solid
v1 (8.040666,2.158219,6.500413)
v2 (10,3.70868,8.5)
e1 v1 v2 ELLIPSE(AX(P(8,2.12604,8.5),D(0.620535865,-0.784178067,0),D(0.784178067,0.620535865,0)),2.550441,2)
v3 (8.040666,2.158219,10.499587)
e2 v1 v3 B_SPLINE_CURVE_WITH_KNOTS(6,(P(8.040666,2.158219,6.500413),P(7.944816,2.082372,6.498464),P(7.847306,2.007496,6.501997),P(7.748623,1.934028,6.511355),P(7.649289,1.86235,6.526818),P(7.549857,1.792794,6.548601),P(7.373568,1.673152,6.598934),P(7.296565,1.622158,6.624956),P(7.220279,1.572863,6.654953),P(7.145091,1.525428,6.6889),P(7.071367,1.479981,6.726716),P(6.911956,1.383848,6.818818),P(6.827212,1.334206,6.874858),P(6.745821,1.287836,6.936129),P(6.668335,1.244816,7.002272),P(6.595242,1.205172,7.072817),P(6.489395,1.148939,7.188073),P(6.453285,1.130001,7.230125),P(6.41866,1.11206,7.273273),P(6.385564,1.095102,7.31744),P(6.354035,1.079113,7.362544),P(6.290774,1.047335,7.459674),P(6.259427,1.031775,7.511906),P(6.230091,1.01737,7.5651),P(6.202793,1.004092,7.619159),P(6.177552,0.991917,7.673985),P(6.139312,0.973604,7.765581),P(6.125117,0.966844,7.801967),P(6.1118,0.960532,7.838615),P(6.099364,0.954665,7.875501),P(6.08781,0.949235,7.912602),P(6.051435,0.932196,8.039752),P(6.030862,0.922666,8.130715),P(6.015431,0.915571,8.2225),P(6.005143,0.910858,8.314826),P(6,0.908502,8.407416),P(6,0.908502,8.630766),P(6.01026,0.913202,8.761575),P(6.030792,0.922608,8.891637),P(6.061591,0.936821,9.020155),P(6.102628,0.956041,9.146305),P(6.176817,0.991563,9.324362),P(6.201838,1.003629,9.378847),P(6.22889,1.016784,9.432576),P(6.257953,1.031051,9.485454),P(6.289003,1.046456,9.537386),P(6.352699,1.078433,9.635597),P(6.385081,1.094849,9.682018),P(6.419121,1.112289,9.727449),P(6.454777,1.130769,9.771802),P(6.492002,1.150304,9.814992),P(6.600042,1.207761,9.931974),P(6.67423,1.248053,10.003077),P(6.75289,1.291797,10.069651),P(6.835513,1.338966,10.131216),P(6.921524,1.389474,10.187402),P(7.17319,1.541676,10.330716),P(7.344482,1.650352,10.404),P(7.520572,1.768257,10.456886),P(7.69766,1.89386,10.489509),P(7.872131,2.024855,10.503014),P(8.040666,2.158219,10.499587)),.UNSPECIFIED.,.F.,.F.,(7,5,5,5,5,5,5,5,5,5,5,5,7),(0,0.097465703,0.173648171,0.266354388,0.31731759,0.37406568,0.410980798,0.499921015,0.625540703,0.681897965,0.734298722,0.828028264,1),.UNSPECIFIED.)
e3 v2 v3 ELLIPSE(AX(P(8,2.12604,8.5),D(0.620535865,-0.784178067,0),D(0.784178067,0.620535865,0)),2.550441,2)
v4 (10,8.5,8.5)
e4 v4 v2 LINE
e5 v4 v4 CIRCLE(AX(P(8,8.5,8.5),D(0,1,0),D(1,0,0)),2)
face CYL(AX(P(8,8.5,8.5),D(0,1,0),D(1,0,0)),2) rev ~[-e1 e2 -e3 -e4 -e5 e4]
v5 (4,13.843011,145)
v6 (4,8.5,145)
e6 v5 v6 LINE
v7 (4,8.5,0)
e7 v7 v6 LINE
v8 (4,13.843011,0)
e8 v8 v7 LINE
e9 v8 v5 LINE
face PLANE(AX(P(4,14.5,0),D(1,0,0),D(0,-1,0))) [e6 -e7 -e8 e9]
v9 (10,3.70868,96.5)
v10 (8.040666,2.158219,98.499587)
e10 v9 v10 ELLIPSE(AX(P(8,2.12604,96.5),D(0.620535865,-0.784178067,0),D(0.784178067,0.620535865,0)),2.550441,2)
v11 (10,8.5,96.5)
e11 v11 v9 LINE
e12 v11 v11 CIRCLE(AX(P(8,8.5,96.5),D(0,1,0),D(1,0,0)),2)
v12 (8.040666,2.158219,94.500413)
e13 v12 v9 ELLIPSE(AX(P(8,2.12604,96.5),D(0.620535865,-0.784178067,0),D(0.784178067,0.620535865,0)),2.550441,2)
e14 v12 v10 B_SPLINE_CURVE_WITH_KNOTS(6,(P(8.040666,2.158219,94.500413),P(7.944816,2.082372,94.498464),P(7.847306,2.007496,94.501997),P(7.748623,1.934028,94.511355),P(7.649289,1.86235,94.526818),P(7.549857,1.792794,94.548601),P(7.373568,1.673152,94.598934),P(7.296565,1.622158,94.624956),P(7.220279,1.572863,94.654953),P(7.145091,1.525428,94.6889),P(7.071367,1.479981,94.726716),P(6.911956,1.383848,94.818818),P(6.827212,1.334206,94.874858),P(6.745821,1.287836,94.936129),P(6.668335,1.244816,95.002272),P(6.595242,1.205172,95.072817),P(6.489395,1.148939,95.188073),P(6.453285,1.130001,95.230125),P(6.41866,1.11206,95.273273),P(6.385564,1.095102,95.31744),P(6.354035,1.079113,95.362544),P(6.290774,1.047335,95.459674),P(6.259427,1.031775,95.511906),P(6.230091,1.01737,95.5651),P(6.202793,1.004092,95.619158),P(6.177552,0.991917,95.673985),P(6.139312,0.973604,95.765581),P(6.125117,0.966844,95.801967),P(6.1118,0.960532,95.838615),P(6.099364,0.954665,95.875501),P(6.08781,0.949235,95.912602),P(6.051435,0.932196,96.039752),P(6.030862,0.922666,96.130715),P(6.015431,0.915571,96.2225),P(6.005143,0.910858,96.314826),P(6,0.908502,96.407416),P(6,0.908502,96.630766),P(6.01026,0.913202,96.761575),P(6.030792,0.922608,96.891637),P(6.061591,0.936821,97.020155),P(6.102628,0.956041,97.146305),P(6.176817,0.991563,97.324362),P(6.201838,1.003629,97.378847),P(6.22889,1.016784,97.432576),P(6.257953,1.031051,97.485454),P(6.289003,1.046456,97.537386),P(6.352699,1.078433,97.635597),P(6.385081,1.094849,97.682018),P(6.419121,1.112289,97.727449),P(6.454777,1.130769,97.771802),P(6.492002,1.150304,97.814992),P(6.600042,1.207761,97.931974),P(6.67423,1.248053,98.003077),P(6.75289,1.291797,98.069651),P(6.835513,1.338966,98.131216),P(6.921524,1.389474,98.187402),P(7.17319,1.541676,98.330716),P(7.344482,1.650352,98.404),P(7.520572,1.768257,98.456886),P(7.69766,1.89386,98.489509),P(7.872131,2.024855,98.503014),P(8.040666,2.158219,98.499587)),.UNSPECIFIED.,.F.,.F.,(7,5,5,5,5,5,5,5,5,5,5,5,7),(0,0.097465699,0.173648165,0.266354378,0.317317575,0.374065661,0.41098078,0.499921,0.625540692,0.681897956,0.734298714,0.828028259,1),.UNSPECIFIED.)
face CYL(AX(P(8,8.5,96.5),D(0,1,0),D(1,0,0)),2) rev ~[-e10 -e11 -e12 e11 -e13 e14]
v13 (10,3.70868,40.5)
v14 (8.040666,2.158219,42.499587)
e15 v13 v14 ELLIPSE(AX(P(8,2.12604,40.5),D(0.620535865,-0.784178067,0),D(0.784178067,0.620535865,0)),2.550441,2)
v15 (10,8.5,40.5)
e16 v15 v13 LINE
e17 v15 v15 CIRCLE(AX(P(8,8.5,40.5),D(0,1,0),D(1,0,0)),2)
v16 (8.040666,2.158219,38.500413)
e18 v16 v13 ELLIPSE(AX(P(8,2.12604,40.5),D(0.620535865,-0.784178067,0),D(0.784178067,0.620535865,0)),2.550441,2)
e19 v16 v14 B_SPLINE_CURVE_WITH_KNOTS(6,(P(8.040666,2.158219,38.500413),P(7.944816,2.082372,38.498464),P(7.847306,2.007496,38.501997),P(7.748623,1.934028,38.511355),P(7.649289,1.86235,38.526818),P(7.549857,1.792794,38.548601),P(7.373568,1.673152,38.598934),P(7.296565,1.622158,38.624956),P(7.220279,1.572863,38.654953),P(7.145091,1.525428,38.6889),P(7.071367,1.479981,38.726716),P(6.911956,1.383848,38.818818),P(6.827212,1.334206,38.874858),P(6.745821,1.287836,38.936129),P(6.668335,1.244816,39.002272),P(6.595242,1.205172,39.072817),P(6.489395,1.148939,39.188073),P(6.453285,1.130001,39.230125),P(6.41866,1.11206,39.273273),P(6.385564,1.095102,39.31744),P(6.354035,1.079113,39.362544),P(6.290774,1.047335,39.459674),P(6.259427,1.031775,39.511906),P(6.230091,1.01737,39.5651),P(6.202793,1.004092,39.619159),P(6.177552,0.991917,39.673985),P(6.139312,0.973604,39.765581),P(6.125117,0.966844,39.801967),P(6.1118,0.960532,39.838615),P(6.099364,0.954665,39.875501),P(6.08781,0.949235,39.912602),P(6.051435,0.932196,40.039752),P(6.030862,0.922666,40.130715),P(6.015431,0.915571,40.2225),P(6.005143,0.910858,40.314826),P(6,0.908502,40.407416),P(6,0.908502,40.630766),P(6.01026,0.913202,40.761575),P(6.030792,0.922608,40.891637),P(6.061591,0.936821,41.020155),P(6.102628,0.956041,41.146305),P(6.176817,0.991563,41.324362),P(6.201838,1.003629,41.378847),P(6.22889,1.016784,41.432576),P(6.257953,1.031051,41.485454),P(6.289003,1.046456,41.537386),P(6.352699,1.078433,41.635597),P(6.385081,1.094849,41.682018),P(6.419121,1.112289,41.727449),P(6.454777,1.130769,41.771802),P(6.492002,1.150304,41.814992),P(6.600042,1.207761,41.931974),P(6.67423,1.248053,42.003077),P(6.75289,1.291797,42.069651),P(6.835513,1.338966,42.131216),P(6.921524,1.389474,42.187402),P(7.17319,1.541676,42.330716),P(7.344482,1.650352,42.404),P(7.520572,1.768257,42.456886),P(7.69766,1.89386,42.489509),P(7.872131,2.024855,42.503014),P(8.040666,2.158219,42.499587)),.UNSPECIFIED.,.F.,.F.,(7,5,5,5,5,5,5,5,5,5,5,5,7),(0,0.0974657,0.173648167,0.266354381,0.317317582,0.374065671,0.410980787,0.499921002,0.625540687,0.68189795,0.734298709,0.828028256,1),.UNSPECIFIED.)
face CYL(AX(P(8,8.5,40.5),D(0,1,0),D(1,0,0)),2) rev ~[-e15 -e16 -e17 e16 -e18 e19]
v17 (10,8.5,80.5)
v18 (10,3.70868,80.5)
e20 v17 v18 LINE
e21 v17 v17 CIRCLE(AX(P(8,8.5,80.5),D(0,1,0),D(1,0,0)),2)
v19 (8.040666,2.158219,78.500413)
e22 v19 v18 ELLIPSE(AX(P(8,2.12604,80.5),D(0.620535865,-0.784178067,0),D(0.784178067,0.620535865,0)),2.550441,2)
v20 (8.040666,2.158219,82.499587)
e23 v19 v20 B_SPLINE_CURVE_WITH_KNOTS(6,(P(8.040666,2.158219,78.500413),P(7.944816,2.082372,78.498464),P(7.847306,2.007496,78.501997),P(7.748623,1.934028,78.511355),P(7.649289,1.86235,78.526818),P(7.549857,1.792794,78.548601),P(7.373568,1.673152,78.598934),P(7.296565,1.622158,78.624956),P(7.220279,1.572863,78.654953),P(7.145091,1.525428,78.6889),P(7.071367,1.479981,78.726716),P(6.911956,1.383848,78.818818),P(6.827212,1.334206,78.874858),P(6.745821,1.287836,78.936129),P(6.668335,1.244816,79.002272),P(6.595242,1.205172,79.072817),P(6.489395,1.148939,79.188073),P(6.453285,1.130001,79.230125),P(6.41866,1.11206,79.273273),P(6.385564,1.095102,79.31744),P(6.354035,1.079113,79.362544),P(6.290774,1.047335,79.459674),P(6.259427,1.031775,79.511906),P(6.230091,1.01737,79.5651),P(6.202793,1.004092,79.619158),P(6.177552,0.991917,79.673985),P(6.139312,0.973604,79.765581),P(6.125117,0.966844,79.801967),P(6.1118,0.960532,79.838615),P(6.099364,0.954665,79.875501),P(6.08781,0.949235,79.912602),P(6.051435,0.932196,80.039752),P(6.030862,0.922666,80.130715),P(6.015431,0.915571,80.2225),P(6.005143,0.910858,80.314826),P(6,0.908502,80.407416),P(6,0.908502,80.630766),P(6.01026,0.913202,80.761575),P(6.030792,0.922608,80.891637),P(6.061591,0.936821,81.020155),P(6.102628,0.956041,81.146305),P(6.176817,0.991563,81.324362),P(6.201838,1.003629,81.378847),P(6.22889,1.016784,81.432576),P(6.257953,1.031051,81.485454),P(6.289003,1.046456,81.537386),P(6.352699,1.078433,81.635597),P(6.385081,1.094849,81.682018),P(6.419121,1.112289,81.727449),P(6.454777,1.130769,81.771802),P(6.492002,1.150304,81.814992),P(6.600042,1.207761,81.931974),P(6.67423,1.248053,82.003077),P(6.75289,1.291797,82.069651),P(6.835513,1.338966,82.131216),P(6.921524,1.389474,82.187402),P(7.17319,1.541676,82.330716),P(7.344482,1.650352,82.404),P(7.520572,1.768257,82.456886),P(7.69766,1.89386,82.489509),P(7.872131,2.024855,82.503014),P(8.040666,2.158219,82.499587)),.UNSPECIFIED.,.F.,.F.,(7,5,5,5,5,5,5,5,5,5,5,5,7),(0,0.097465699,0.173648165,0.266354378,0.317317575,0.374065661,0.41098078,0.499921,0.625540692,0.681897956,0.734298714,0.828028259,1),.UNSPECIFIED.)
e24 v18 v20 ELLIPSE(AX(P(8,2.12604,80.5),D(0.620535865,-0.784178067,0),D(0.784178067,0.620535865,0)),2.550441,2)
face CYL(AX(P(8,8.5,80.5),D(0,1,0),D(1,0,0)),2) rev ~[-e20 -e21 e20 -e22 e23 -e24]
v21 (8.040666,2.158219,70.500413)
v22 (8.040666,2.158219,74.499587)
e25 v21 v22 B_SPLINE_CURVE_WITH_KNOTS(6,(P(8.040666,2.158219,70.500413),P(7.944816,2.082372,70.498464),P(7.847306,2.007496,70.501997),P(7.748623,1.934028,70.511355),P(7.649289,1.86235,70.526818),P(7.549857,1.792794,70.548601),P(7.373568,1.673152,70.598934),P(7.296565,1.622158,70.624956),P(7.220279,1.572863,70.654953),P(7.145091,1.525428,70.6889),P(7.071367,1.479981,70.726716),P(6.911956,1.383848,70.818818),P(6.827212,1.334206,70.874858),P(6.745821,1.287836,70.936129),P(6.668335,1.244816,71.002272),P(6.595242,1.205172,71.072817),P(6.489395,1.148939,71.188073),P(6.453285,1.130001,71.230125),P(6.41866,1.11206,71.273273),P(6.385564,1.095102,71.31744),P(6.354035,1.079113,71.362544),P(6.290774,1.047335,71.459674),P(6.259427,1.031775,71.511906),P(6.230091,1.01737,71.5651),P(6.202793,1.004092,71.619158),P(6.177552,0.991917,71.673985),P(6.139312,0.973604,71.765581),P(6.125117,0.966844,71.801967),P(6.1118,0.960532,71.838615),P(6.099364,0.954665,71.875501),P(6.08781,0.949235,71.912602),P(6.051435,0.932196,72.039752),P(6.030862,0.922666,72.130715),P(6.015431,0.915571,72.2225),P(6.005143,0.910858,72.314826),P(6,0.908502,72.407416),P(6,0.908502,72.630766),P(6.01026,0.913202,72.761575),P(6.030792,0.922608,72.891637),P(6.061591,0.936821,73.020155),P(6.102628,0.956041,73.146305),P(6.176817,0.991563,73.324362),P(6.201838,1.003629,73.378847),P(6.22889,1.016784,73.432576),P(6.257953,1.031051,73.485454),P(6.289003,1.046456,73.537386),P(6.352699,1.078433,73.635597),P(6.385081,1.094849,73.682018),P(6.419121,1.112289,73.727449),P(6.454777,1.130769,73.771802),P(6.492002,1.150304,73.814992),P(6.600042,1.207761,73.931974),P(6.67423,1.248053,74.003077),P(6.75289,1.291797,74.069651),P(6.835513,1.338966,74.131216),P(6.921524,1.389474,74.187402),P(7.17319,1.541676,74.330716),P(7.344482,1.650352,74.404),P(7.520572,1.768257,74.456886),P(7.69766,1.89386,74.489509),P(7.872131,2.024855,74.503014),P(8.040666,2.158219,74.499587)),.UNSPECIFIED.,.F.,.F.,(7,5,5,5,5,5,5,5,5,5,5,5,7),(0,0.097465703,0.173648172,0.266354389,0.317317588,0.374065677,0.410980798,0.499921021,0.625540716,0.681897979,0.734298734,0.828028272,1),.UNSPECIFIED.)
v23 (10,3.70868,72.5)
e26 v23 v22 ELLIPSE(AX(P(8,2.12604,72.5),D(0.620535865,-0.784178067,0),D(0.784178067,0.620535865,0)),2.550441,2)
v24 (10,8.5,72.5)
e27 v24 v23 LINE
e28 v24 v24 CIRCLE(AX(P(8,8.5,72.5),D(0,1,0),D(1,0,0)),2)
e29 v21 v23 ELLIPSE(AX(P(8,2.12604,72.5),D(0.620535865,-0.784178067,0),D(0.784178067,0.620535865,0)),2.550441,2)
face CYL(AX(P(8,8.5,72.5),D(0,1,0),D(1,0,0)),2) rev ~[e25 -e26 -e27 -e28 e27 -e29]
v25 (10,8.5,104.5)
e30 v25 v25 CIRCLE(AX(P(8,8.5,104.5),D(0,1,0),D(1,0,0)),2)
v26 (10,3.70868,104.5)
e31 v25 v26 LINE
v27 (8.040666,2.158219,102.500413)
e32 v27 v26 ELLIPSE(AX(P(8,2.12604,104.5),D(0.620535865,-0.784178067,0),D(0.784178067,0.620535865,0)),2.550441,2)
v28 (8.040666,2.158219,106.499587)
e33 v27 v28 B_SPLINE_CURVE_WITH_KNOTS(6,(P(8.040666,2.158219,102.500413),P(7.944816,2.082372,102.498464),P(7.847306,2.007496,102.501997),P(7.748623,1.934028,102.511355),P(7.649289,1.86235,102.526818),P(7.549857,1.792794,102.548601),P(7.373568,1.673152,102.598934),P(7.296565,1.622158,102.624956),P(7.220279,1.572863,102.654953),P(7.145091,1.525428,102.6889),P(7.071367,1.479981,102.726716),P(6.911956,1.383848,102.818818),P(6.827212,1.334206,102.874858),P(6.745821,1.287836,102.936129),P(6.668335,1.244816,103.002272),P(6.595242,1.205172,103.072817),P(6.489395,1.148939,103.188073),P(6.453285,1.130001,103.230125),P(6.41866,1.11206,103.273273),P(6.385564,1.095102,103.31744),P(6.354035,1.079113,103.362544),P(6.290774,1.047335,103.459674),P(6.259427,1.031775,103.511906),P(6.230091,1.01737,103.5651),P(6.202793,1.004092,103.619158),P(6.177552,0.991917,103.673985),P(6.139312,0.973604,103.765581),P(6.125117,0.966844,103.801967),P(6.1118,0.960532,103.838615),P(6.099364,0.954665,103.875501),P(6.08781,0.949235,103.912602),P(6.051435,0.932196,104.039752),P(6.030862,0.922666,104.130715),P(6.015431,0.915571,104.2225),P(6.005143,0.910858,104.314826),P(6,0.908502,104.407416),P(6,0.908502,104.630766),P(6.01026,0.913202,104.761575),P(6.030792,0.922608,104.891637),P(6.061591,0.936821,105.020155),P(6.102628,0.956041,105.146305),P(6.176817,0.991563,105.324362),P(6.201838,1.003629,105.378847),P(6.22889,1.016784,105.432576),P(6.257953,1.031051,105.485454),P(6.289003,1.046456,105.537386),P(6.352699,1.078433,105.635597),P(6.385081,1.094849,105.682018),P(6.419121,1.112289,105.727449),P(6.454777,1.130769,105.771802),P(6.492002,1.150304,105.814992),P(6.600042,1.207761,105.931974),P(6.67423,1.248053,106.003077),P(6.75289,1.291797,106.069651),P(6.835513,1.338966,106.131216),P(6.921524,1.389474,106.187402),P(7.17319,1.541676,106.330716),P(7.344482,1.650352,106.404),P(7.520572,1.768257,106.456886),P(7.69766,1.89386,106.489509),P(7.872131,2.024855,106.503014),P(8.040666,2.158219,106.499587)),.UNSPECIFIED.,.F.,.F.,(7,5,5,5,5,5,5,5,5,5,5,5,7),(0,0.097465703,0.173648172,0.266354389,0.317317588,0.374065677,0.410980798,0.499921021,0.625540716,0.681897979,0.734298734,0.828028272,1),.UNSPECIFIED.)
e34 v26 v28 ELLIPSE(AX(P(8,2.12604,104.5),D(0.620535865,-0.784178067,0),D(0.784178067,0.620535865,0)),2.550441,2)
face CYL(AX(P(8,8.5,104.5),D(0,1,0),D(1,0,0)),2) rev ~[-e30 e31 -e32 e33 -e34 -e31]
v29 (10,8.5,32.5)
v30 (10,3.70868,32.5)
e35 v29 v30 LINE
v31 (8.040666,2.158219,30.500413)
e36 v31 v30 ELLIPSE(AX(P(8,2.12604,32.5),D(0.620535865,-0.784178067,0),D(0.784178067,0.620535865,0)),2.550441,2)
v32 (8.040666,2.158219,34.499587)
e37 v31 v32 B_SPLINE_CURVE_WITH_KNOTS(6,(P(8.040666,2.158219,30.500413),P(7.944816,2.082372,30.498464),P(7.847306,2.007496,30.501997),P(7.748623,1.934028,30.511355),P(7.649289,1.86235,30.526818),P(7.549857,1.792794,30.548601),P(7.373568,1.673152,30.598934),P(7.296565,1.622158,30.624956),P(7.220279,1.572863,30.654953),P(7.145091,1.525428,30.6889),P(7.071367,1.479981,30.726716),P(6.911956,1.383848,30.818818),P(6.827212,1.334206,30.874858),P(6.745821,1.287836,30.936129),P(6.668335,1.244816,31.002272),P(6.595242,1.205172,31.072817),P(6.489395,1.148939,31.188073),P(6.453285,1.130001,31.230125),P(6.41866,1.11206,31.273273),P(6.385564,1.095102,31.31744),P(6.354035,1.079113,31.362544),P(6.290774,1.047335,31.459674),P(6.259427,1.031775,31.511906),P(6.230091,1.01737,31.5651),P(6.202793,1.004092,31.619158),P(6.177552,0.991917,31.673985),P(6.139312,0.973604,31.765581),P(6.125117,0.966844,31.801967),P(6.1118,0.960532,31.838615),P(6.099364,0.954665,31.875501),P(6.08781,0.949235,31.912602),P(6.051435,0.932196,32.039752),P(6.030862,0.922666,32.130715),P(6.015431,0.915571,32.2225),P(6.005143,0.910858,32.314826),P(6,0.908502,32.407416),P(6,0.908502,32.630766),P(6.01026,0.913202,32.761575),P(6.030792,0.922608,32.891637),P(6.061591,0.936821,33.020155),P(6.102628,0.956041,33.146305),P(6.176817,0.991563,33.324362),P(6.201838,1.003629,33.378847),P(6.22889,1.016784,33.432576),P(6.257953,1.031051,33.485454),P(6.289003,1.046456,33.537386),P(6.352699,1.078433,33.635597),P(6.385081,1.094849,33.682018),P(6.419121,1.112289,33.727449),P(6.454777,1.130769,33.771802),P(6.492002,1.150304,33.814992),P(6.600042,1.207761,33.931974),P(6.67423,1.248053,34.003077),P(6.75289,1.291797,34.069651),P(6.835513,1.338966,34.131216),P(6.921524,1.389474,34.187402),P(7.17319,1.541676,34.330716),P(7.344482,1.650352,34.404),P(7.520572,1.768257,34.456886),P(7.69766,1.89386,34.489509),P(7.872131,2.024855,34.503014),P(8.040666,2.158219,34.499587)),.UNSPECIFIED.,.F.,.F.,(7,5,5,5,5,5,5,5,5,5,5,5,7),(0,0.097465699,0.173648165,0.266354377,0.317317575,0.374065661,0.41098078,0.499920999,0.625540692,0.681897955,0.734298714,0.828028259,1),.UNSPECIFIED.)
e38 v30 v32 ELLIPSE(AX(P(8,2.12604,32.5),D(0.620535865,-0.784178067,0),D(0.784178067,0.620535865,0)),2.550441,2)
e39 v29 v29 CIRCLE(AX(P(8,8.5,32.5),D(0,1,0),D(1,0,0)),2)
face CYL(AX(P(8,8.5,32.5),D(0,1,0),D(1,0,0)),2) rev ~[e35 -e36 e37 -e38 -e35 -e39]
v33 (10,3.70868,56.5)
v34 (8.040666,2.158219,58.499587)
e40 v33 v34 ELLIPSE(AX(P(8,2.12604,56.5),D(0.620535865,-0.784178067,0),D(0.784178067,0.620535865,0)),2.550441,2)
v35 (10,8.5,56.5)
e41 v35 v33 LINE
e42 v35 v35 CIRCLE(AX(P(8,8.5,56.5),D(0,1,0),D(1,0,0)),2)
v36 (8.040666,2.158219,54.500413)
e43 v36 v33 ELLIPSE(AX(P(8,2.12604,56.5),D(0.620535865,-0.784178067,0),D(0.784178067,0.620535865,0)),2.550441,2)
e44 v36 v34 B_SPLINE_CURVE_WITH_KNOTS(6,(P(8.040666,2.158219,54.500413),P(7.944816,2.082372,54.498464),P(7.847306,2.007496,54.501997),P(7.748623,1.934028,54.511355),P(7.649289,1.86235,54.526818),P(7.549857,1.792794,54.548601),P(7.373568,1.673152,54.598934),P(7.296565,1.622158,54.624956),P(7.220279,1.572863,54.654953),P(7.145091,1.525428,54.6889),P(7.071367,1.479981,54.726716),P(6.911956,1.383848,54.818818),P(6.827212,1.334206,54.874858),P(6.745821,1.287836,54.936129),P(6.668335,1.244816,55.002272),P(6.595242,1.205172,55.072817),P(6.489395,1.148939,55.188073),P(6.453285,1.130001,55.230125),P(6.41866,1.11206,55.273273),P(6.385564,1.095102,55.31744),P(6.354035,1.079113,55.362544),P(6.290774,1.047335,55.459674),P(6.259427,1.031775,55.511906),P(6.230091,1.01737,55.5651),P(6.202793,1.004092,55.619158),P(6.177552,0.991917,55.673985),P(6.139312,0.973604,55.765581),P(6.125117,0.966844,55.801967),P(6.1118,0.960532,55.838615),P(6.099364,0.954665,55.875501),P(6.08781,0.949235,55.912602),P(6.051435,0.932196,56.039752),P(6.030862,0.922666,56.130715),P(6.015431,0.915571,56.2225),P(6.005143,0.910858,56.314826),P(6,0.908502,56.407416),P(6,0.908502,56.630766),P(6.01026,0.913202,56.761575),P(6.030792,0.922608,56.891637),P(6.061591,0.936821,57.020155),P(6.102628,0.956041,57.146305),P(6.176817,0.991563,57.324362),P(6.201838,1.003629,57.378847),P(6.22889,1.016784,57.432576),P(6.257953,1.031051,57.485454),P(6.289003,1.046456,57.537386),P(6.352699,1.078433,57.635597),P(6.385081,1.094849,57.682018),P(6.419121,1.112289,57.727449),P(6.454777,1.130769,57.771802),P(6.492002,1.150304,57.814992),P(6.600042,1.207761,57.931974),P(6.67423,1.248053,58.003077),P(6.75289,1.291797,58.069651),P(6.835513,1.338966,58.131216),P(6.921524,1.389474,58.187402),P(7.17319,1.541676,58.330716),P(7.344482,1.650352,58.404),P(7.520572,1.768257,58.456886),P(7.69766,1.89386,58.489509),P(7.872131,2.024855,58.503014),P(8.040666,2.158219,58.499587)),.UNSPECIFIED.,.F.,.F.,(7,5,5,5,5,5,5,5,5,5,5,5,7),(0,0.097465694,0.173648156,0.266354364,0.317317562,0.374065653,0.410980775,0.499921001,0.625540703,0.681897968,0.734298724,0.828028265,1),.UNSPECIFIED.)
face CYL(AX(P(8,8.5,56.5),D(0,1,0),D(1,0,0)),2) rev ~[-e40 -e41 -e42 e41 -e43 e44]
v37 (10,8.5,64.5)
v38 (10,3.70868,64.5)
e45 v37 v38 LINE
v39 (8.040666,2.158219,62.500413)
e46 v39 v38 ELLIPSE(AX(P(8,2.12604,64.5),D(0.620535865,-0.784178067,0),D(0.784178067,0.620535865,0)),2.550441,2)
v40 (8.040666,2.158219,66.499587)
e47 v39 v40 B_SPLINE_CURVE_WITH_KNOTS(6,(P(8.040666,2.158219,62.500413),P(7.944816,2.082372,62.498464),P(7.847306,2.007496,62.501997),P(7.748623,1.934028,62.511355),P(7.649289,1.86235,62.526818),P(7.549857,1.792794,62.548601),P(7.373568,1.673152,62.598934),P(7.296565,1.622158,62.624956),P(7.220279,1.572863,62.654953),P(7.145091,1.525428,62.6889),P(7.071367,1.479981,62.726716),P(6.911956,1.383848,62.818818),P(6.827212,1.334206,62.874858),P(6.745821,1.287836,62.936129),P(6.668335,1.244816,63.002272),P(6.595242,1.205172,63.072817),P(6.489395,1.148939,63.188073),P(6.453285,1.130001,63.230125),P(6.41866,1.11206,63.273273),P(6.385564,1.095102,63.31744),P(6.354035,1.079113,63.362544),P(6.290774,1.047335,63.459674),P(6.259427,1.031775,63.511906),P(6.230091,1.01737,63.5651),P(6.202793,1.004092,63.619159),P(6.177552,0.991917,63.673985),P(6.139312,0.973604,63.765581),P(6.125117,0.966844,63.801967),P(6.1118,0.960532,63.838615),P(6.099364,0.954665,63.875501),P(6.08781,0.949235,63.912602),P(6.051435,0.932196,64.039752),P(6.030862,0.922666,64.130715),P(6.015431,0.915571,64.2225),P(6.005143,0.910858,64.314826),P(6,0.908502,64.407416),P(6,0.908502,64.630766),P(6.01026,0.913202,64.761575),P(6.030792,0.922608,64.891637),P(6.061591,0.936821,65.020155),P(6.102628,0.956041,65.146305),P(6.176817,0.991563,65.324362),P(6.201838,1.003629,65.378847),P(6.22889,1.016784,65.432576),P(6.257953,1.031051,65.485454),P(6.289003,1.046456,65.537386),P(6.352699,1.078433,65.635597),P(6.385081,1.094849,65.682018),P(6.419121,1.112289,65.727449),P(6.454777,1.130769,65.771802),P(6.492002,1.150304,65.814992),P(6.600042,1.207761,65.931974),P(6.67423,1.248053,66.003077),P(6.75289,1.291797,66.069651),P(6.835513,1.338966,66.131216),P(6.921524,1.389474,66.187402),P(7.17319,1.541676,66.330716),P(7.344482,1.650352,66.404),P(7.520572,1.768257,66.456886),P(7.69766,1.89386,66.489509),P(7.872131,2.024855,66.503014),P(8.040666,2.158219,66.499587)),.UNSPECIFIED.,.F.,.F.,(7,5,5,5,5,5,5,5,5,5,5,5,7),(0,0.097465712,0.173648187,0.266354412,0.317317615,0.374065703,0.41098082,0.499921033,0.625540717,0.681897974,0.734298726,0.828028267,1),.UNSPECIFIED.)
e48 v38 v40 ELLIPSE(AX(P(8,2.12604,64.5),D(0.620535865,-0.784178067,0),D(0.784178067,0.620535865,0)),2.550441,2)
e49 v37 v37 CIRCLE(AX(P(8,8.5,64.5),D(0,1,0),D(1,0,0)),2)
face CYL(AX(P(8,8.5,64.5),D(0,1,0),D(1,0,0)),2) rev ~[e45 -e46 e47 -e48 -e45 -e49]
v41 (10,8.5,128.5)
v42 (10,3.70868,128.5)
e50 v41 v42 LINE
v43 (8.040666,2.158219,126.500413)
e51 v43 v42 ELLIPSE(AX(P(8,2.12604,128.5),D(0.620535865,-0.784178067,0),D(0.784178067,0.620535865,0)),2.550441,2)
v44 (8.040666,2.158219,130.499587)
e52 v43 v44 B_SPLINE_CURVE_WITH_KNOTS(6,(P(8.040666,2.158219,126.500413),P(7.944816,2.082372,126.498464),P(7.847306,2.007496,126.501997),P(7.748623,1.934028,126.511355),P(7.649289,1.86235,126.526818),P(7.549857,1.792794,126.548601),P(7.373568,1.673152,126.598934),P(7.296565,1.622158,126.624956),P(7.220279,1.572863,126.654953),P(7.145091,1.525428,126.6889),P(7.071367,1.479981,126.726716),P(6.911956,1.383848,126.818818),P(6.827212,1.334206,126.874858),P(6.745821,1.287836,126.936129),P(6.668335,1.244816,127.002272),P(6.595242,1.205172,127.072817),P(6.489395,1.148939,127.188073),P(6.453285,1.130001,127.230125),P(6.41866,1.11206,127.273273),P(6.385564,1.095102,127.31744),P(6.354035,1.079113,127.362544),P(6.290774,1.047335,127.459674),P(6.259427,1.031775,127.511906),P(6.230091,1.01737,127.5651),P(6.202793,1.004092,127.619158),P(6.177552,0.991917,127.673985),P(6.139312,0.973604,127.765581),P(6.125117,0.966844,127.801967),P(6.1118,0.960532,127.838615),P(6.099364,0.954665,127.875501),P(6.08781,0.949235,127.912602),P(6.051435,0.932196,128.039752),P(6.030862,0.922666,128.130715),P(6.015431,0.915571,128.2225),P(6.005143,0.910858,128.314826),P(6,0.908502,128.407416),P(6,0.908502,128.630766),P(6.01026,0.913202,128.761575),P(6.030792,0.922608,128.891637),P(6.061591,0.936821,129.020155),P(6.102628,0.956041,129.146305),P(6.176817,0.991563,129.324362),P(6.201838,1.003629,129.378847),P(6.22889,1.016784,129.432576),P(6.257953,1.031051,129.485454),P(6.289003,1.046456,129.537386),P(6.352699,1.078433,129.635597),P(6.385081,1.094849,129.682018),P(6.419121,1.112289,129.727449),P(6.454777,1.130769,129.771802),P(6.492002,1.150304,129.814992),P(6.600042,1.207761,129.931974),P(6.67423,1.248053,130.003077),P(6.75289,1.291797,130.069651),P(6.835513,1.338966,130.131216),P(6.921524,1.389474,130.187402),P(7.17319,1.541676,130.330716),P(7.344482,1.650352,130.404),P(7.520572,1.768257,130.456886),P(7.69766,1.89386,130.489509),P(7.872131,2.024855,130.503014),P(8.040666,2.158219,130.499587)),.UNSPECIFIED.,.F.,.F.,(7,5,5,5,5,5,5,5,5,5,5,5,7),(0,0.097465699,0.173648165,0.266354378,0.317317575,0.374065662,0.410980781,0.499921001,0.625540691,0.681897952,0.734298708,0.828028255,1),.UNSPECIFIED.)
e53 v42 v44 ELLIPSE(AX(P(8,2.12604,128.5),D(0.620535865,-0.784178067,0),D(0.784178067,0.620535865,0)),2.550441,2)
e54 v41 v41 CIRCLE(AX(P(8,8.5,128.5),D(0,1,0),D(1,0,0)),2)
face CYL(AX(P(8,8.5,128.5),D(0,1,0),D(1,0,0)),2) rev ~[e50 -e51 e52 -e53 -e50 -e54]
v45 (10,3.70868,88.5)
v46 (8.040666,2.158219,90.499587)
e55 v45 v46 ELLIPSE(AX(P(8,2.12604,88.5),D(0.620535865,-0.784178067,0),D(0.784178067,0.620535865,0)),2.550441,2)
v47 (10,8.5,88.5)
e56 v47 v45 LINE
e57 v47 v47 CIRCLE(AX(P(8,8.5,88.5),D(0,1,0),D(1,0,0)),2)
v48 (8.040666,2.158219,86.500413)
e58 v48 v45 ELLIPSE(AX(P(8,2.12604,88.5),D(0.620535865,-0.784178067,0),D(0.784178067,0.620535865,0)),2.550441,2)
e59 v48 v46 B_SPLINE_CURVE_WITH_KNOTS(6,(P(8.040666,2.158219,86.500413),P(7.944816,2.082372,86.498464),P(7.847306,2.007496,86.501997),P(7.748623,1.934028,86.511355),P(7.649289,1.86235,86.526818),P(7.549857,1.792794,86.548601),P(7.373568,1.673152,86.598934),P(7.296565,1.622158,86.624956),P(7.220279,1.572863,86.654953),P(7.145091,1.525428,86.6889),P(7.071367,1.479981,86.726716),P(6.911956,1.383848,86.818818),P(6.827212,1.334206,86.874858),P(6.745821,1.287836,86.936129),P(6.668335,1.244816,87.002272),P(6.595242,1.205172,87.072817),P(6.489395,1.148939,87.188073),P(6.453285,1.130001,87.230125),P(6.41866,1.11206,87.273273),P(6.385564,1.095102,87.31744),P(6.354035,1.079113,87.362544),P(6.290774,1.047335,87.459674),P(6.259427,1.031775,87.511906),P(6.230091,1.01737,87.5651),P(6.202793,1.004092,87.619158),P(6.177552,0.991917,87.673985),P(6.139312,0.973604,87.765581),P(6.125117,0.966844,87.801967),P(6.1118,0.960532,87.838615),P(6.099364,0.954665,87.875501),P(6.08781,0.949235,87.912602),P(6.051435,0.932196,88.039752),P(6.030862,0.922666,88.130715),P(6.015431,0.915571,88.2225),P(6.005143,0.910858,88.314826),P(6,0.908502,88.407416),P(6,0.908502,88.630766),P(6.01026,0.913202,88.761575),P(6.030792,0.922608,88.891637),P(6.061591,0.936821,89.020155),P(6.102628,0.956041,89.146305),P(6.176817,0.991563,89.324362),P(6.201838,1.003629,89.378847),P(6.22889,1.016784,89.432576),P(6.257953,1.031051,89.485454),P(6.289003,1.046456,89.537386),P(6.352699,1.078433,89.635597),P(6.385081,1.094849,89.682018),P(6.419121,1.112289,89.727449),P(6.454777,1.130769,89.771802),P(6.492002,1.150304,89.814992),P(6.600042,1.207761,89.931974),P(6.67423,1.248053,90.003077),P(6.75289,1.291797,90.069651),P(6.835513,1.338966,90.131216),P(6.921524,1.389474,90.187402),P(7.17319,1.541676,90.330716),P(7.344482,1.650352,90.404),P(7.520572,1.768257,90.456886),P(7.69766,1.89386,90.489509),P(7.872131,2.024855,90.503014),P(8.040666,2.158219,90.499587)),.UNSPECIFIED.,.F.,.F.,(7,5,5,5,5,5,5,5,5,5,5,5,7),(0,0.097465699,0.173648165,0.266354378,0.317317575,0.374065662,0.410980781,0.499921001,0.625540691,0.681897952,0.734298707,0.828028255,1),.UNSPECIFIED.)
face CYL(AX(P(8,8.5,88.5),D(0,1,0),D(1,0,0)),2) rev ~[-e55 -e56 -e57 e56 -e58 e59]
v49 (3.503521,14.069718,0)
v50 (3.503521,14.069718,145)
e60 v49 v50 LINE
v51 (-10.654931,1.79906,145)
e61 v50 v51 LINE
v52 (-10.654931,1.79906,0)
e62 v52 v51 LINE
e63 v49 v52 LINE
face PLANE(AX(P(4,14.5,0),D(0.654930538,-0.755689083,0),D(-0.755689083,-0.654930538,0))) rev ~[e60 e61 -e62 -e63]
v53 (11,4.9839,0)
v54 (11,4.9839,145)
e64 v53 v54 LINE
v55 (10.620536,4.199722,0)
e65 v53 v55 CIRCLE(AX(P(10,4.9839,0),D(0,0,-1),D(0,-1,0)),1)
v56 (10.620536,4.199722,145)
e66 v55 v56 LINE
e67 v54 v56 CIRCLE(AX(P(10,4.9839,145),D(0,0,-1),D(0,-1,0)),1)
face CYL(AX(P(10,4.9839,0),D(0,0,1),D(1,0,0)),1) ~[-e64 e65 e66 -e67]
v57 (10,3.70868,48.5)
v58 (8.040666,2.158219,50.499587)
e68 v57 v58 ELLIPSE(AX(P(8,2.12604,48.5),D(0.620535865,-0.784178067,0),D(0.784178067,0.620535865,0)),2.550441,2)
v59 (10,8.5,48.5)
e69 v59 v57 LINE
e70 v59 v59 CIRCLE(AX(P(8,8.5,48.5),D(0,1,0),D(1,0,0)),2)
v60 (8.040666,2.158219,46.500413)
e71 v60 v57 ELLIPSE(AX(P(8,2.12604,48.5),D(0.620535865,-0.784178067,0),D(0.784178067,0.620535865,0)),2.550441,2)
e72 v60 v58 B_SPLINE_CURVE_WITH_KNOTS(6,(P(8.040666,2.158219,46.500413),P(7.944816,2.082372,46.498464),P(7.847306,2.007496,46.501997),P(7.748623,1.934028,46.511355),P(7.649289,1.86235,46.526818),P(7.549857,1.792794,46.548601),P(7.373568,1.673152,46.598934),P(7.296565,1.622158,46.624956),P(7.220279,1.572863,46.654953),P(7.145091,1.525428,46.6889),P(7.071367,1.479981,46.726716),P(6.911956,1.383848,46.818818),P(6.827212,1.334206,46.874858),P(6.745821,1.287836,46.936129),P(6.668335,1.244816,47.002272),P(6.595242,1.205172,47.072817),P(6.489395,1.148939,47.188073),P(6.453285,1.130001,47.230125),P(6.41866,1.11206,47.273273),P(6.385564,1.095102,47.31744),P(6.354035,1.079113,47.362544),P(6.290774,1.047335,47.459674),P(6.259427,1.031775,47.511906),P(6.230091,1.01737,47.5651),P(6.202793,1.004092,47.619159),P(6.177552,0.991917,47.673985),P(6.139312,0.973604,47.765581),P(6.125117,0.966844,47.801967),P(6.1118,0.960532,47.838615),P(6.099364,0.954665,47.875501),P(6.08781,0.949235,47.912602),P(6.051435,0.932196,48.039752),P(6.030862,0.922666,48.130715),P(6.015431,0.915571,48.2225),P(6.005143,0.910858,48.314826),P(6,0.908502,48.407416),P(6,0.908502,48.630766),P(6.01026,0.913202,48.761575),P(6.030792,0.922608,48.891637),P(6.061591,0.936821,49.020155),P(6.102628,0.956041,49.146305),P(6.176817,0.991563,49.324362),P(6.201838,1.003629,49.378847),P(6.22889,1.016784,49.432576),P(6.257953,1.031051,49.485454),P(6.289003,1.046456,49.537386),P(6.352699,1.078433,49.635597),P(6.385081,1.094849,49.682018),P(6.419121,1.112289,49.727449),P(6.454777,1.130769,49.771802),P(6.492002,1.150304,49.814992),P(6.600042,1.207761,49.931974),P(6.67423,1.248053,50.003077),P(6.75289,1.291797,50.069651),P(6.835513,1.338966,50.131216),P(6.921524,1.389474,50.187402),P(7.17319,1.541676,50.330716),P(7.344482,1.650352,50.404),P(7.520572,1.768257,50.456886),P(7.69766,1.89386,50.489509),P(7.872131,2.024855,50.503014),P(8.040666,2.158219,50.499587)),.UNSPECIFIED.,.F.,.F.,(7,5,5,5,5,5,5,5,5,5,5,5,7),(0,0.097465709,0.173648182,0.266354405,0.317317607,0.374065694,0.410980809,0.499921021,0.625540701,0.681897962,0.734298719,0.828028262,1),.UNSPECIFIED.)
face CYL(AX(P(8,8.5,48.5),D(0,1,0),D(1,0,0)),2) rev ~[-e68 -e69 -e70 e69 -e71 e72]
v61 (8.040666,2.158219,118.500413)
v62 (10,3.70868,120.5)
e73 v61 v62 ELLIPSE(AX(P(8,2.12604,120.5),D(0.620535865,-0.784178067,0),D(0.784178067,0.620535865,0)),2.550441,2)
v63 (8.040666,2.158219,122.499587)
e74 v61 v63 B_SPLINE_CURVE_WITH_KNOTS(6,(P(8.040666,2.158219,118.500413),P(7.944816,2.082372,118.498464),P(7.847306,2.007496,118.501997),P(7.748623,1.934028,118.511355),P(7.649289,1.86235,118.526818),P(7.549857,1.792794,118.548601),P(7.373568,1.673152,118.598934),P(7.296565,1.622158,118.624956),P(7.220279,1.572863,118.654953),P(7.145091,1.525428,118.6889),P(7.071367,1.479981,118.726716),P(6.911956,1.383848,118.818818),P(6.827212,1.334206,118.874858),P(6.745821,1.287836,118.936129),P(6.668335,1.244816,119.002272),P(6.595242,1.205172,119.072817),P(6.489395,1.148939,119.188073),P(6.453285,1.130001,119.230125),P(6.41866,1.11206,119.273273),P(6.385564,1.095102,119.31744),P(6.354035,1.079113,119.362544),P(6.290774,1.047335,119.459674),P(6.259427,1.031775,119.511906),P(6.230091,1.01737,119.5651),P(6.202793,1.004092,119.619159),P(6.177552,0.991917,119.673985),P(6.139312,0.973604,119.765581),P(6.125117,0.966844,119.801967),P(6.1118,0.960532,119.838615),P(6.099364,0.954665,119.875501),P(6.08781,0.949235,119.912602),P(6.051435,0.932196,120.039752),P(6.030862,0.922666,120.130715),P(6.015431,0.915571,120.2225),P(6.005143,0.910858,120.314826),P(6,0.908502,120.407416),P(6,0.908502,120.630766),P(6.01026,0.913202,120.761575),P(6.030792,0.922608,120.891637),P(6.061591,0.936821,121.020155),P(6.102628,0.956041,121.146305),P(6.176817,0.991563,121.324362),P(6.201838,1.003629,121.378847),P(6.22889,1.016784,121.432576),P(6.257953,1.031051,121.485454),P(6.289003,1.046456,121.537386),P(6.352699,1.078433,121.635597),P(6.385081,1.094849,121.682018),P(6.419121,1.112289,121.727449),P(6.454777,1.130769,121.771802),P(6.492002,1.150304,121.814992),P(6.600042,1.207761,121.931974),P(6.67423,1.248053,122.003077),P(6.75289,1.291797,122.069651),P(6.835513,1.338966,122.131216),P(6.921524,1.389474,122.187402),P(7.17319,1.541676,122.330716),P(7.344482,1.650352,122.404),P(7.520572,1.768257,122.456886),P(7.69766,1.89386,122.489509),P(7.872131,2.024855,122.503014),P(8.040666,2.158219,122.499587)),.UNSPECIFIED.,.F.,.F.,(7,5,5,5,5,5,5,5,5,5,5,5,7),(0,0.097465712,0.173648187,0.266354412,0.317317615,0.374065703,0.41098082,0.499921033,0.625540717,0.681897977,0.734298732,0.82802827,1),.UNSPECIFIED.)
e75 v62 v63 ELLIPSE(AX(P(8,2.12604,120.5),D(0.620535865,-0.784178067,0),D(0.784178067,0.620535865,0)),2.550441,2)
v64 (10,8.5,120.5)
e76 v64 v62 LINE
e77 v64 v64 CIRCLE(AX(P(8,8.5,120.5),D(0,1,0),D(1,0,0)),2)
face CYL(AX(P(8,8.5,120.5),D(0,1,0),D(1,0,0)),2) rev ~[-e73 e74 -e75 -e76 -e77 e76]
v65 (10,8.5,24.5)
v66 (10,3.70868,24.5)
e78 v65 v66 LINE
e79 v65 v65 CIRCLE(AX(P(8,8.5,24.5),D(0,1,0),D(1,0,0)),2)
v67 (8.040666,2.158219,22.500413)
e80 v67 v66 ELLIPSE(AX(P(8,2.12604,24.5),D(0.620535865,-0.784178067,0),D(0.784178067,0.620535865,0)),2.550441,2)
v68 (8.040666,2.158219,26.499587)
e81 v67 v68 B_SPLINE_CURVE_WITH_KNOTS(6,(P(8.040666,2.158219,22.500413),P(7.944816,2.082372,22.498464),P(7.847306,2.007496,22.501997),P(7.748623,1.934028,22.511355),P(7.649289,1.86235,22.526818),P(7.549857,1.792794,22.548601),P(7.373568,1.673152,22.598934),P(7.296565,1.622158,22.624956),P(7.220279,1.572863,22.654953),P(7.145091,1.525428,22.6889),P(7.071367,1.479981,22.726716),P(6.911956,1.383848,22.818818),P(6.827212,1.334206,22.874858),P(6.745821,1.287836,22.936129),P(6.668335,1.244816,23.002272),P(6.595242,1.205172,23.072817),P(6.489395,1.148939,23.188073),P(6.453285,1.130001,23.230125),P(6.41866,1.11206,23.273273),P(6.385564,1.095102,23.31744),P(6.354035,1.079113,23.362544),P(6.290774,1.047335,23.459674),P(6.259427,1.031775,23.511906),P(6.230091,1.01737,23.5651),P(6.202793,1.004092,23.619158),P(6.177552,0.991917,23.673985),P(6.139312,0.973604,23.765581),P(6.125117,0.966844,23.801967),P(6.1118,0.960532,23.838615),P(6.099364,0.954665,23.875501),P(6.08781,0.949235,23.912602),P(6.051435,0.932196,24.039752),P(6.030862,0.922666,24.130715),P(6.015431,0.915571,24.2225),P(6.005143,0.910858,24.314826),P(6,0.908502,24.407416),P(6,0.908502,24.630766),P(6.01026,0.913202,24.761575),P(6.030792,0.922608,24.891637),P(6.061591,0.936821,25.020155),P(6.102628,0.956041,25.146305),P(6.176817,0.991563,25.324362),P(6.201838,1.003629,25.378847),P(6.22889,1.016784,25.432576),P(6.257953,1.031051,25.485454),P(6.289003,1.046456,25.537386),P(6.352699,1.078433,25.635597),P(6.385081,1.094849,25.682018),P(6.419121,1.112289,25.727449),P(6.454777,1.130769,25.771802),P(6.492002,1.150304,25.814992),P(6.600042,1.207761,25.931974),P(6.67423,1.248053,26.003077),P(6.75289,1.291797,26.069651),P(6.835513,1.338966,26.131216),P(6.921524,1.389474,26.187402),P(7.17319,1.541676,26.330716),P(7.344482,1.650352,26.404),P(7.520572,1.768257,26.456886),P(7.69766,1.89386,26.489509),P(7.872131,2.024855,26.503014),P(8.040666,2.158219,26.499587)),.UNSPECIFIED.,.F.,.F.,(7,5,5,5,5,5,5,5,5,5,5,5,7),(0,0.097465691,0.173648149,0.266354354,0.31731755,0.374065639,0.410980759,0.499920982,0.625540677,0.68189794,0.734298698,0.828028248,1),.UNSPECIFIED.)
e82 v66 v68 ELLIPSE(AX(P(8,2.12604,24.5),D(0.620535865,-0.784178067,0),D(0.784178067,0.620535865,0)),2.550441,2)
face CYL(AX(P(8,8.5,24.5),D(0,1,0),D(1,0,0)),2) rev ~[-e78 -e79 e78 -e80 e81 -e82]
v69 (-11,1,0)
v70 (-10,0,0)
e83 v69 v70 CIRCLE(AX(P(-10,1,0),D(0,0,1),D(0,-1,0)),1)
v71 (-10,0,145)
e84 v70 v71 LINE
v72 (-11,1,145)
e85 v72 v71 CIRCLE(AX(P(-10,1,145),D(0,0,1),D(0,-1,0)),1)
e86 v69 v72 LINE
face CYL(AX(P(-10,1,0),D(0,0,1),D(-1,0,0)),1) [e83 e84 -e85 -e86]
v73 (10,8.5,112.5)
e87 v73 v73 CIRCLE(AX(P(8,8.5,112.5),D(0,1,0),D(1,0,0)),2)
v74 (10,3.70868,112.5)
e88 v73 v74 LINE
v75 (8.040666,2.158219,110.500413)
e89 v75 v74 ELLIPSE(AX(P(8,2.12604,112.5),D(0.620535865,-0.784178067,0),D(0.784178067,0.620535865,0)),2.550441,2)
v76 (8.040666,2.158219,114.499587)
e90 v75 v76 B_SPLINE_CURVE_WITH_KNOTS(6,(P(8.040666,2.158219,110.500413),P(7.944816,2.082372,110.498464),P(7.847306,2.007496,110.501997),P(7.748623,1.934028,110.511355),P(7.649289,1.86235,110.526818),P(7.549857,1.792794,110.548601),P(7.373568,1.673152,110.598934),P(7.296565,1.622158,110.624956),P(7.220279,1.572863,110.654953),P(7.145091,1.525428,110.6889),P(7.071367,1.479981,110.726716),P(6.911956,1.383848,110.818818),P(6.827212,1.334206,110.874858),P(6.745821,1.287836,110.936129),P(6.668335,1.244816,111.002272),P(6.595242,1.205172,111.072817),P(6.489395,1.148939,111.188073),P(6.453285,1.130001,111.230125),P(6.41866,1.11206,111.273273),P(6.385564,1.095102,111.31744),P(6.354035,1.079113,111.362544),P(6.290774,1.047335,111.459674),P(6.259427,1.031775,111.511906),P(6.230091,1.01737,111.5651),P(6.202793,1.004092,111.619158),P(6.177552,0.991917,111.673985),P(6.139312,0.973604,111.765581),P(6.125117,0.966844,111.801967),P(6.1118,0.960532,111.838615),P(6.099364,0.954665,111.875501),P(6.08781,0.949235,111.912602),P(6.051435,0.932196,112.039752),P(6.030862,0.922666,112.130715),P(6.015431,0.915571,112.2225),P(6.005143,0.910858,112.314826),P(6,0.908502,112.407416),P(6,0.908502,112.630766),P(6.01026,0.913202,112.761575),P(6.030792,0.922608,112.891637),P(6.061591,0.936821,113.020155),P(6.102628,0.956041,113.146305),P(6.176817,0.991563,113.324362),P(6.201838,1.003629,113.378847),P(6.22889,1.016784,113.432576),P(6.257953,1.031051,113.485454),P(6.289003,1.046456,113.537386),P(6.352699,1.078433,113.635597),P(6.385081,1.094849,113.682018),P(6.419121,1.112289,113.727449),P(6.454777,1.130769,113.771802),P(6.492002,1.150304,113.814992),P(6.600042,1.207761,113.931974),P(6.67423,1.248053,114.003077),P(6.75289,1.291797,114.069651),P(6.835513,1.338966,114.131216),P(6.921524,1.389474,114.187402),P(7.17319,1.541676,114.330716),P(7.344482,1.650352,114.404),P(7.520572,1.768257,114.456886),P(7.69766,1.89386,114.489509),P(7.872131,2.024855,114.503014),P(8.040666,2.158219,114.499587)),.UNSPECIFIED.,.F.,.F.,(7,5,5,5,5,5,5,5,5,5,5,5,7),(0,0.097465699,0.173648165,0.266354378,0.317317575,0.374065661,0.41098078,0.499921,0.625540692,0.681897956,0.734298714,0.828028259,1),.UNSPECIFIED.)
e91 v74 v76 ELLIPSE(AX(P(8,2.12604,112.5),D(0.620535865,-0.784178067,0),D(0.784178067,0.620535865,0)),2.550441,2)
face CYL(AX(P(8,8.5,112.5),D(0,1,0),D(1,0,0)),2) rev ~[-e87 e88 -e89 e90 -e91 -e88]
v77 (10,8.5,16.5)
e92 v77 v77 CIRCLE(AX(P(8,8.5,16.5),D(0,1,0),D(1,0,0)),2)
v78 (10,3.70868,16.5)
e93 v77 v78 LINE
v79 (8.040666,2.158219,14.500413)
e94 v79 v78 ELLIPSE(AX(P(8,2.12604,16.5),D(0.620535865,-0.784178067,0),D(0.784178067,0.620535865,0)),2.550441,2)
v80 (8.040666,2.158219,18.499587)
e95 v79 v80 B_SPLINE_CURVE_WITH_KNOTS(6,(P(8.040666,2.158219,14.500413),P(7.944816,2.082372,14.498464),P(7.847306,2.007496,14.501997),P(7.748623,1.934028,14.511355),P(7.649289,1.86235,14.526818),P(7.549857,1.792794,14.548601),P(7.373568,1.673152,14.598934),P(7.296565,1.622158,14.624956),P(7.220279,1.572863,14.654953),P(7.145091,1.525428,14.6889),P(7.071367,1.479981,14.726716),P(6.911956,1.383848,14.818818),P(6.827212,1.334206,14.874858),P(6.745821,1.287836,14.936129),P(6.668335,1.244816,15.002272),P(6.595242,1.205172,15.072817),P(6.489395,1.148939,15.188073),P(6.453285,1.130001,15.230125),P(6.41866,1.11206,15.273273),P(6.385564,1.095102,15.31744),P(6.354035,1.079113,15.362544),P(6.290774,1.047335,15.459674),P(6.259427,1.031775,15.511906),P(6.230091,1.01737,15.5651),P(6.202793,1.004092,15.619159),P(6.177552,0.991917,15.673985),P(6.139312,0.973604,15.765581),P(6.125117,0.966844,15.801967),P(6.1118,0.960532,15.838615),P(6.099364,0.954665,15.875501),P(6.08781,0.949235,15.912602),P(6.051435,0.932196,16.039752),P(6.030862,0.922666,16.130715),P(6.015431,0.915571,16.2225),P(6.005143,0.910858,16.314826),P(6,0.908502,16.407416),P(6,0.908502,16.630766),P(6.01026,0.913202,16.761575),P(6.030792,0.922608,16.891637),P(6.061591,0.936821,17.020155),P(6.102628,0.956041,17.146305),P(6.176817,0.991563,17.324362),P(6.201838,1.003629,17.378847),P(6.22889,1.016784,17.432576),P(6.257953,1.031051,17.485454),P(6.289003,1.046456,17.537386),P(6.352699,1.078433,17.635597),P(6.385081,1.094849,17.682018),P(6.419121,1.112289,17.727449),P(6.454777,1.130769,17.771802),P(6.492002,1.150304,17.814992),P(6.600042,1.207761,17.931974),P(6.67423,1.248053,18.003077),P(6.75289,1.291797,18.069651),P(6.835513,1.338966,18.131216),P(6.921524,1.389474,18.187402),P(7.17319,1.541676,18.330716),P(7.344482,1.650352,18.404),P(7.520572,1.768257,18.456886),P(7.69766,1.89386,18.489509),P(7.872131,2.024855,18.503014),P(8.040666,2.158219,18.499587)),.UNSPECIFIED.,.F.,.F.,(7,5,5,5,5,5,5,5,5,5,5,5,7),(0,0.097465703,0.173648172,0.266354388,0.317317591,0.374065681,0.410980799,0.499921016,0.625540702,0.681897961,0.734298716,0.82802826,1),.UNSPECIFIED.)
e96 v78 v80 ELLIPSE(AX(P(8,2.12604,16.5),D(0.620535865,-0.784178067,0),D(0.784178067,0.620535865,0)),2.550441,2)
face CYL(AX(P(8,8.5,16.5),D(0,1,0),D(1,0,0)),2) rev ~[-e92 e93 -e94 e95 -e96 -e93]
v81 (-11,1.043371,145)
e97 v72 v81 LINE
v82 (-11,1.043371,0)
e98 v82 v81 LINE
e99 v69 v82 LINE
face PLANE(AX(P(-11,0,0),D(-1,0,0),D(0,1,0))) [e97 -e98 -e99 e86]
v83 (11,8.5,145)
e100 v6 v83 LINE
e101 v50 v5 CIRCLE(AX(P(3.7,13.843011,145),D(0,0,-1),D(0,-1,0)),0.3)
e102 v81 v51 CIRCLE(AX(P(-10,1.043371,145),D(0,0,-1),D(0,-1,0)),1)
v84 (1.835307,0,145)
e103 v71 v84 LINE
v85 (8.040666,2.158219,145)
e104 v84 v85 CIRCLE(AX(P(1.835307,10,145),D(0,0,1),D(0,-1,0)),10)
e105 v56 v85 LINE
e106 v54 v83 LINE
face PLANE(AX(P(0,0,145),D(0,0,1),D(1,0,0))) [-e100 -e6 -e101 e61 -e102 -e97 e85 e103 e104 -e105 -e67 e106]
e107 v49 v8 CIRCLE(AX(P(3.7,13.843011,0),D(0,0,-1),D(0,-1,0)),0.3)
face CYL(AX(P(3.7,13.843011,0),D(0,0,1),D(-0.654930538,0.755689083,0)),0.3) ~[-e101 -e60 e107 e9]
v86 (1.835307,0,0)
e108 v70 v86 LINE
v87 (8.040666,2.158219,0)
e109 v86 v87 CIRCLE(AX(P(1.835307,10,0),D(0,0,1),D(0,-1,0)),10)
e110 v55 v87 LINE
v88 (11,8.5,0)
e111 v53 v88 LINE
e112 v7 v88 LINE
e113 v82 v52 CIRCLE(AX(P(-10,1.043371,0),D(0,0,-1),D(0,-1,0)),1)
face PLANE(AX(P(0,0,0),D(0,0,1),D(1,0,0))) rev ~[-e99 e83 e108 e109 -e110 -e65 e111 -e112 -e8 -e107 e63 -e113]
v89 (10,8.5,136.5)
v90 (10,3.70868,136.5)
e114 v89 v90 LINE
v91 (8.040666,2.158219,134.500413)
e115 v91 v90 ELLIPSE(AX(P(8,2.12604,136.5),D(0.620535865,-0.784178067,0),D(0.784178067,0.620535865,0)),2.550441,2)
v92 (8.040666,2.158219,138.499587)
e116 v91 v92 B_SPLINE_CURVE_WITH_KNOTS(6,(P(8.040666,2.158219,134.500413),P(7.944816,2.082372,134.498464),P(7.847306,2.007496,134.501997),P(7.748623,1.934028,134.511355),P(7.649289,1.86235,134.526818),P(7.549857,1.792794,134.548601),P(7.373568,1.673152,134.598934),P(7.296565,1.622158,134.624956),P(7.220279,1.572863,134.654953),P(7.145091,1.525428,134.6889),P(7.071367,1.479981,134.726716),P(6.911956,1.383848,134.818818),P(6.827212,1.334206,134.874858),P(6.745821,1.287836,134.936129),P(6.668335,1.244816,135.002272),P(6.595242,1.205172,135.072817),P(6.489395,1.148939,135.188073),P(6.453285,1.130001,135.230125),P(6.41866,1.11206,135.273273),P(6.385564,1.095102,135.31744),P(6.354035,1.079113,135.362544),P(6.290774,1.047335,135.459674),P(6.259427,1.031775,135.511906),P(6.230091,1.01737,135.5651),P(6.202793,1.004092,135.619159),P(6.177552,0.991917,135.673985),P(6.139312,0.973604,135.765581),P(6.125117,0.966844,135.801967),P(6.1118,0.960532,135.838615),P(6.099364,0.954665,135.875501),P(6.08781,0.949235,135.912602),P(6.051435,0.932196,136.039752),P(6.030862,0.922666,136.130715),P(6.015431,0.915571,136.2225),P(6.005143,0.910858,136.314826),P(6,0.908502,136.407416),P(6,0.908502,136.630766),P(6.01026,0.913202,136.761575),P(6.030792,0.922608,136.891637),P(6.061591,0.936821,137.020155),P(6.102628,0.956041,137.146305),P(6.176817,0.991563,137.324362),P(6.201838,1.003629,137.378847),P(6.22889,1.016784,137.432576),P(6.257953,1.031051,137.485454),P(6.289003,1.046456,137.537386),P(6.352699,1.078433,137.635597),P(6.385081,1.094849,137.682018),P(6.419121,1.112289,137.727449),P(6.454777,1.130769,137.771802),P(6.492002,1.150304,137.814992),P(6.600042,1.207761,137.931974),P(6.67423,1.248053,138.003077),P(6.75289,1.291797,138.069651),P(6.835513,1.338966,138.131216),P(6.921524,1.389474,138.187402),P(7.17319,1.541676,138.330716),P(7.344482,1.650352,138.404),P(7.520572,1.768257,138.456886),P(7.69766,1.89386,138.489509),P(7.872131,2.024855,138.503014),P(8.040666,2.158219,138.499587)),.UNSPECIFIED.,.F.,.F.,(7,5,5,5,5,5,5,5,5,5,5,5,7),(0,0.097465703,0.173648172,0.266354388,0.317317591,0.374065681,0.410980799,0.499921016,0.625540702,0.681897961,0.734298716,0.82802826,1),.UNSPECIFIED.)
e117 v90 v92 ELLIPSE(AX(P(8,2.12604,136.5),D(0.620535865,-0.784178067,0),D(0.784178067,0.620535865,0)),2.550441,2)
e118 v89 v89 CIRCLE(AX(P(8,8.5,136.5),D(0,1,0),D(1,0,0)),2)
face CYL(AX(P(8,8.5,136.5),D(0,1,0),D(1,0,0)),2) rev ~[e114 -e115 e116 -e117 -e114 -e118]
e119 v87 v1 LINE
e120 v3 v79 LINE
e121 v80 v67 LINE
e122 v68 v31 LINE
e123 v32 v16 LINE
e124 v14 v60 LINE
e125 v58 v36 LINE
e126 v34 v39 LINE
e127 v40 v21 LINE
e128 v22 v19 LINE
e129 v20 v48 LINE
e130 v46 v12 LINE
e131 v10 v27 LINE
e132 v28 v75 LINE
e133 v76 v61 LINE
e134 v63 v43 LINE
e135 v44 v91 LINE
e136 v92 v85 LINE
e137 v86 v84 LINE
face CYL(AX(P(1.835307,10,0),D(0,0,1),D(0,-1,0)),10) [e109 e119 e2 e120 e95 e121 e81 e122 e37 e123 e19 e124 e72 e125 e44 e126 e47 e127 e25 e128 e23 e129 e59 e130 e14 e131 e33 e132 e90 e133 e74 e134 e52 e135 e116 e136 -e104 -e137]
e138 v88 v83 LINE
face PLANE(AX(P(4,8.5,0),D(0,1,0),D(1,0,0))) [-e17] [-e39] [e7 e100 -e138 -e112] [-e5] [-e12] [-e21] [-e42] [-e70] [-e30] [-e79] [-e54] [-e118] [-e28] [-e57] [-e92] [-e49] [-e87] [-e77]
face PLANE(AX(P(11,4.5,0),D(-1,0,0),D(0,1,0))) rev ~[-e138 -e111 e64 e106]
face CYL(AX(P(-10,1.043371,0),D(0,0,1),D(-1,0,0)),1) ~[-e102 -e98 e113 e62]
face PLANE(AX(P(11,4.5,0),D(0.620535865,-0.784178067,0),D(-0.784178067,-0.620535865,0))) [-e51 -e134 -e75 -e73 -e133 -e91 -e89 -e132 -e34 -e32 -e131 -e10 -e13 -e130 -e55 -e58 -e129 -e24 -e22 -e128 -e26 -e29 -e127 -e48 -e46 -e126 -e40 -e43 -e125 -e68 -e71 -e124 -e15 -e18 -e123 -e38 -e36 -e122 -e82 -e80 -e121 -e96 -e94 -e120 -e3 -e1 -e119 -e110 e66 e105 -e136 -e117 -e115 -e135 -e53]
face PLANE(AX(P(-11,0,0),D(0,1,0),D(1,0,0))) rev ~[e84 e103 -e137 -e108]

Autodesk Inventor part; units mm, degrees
ref_plane "YZ Plane" through (0, 0, 0) normal (1, 0, 0) x (0, 1, 0)
ref_plane "XZ Plane" through (0, 0, 0) normal (0, 1, 0) x (-1, 0, 0)
ref_plane "XY Plane" through (0, 0, 0) normal (0, 0, 1) x (1, 0, 0)
sketch "Sketch1" plane through (0, 0, 0) normal (0, 0, 1) x (1, 0, 0)
  line L0 (11, 16) -> (11, 0) construction
  line L1 (11, 0) -> (-11, 0) construction
  line L2 (-11, 0) -> (-11, 1.5)
  line L3 (0, 16) -> (0, 0) construction
  line L4 (4, 14.5) -> (-11, 1.5)
  line L5 (4, 14.5) -> (4, 8.5)
  line L6 (4, 14.5) -> (10, 14.5) construction
  line L7 (4, 8.5) -> (11, 8.5)
  line L8 (11, 4.5) -> (5.3133, 0)
  line L9 (11, 4.5) -> (11, 8.5)
  line L10 (-11, 0) -> (5.3133, 0)
  dimension "d3" = 1.5
  dimension "d10" = 7
  dimension "d12" = 22
  dimension "d13" = 6
  dimension "d14" = 130.914
  dimension "d15" = 90
  dimension "d16" = 49.086
  dimension "d17" = 90
  dimension "d18" = 90
  dimension "d19" = 90
  dimension "d20" = 141.645
  dimension "d21" = 128.355
  dimension "d22" = 4
extrude "Body Extrusion" add sketch "Sketch1" along normal blind 145
fillet "Fillet1" radius 1 1 edges at (-11, 0, 72.5)
fillet "Fillet2" radius 1 1 edges at (-11, 1.5, 72.5)
fillet "Fillet3" radius 10 1 edges at (5.3133, 0, 72.5)
fillet "Fillet5" radius 0.3 1 edges at (4, 14.5, 72.5)
sketch "Sketch2" plane through (4, 8.5, 145) normal (0, 1, 0) x (1, 0, 0)
  line L0 (6.6447, 145) -> (6.6447, 0) construction
  line L1 (0, 145) -> (0, 0) construction
  circle A0 centre (4, 8.5) radius 2
  circle A1 centre (4, 16.5) radius 2
  circle A2 centre (4, 24.5) radius 2
  circle A3 centre (4, 32.5) radius 2
  circle A4 centre (4, 40.5) radius 2
  circle A5 centre (4, 48.5) radius 2
  circle A6 centre (4, 56.5) radius 2
  circle A7 centre (4, 64.5) radius 2
  circle A8 centre (4, 72.5) radius 2
  circle A9 centre (4, 80.5) radius 2
  circle A10 centre (4, 88.5) radius 2
  circle A11 centre (4, 96.5) radius 2
  circle A12 centre (4, 104.5) radius 2
  circle A13 centre (4, 112.5) radius 2
  circle A14 centre (4, 120.5) radius 2
  circle A15 centre (4, 128.5) radius 2
  circle A16 centre (4, 136.5) radius 2
  line L2 (4, 8.5) -> (4, 16.5) construction
  line L3 (4, 16.5) -> (4, 24.5) construction
  line L4 (4, 24.5) -> (4, 32.5) construction
  line L5 (4, 32.5) -> (4, 40.5) construction
  line L6 (4, 40.5) -> (4, 48.5) construction
  line L7 (4, 48.5) -> (4, 56.5) construction
  line L8 (4, 56.5) -> (4, 64.5) construction
  line L9 (4, 64.5) -> (4, 72.5) construction
  line L10 (4, 72.5) -> (4, 80.5) construction
  line L11 (4, 80.5) -> (4, 88.5) construction
  line L12 (4, 88.5) -> (4, 96.5) construction
  line L13 (4, 96.5) -> (4, 104.5) construction
  line L14 (4, 104.5) -> (4, 112.5) construction
  line L15 (4, 112.5) -> (4, 120.5) construction
  line L16 (4, 120.5) -> (4, 128.5) construction
  line L17 (4, 128.5) -> (4, 136.5) construction
  line L18 (4, 136.5) -> (4, 144.5) construction
  line L19 (4, 72.5) -> (-64.0326, 72.5) construction
  point P0 (6.6447, 72.5)
  point P1 (4, 76.5)
  dimension "d32" = 4
  dimension "LongDistBtwnScrewHoles" = 128
  dimension "d37" = 4
extrude "Screw Holes Cut" cut sketch "Sketch2" against normal through all
fillet "Fillet6" radius 1 1 edges at (11, 4.5, 72.5)
properties part number "Ramp 2"
